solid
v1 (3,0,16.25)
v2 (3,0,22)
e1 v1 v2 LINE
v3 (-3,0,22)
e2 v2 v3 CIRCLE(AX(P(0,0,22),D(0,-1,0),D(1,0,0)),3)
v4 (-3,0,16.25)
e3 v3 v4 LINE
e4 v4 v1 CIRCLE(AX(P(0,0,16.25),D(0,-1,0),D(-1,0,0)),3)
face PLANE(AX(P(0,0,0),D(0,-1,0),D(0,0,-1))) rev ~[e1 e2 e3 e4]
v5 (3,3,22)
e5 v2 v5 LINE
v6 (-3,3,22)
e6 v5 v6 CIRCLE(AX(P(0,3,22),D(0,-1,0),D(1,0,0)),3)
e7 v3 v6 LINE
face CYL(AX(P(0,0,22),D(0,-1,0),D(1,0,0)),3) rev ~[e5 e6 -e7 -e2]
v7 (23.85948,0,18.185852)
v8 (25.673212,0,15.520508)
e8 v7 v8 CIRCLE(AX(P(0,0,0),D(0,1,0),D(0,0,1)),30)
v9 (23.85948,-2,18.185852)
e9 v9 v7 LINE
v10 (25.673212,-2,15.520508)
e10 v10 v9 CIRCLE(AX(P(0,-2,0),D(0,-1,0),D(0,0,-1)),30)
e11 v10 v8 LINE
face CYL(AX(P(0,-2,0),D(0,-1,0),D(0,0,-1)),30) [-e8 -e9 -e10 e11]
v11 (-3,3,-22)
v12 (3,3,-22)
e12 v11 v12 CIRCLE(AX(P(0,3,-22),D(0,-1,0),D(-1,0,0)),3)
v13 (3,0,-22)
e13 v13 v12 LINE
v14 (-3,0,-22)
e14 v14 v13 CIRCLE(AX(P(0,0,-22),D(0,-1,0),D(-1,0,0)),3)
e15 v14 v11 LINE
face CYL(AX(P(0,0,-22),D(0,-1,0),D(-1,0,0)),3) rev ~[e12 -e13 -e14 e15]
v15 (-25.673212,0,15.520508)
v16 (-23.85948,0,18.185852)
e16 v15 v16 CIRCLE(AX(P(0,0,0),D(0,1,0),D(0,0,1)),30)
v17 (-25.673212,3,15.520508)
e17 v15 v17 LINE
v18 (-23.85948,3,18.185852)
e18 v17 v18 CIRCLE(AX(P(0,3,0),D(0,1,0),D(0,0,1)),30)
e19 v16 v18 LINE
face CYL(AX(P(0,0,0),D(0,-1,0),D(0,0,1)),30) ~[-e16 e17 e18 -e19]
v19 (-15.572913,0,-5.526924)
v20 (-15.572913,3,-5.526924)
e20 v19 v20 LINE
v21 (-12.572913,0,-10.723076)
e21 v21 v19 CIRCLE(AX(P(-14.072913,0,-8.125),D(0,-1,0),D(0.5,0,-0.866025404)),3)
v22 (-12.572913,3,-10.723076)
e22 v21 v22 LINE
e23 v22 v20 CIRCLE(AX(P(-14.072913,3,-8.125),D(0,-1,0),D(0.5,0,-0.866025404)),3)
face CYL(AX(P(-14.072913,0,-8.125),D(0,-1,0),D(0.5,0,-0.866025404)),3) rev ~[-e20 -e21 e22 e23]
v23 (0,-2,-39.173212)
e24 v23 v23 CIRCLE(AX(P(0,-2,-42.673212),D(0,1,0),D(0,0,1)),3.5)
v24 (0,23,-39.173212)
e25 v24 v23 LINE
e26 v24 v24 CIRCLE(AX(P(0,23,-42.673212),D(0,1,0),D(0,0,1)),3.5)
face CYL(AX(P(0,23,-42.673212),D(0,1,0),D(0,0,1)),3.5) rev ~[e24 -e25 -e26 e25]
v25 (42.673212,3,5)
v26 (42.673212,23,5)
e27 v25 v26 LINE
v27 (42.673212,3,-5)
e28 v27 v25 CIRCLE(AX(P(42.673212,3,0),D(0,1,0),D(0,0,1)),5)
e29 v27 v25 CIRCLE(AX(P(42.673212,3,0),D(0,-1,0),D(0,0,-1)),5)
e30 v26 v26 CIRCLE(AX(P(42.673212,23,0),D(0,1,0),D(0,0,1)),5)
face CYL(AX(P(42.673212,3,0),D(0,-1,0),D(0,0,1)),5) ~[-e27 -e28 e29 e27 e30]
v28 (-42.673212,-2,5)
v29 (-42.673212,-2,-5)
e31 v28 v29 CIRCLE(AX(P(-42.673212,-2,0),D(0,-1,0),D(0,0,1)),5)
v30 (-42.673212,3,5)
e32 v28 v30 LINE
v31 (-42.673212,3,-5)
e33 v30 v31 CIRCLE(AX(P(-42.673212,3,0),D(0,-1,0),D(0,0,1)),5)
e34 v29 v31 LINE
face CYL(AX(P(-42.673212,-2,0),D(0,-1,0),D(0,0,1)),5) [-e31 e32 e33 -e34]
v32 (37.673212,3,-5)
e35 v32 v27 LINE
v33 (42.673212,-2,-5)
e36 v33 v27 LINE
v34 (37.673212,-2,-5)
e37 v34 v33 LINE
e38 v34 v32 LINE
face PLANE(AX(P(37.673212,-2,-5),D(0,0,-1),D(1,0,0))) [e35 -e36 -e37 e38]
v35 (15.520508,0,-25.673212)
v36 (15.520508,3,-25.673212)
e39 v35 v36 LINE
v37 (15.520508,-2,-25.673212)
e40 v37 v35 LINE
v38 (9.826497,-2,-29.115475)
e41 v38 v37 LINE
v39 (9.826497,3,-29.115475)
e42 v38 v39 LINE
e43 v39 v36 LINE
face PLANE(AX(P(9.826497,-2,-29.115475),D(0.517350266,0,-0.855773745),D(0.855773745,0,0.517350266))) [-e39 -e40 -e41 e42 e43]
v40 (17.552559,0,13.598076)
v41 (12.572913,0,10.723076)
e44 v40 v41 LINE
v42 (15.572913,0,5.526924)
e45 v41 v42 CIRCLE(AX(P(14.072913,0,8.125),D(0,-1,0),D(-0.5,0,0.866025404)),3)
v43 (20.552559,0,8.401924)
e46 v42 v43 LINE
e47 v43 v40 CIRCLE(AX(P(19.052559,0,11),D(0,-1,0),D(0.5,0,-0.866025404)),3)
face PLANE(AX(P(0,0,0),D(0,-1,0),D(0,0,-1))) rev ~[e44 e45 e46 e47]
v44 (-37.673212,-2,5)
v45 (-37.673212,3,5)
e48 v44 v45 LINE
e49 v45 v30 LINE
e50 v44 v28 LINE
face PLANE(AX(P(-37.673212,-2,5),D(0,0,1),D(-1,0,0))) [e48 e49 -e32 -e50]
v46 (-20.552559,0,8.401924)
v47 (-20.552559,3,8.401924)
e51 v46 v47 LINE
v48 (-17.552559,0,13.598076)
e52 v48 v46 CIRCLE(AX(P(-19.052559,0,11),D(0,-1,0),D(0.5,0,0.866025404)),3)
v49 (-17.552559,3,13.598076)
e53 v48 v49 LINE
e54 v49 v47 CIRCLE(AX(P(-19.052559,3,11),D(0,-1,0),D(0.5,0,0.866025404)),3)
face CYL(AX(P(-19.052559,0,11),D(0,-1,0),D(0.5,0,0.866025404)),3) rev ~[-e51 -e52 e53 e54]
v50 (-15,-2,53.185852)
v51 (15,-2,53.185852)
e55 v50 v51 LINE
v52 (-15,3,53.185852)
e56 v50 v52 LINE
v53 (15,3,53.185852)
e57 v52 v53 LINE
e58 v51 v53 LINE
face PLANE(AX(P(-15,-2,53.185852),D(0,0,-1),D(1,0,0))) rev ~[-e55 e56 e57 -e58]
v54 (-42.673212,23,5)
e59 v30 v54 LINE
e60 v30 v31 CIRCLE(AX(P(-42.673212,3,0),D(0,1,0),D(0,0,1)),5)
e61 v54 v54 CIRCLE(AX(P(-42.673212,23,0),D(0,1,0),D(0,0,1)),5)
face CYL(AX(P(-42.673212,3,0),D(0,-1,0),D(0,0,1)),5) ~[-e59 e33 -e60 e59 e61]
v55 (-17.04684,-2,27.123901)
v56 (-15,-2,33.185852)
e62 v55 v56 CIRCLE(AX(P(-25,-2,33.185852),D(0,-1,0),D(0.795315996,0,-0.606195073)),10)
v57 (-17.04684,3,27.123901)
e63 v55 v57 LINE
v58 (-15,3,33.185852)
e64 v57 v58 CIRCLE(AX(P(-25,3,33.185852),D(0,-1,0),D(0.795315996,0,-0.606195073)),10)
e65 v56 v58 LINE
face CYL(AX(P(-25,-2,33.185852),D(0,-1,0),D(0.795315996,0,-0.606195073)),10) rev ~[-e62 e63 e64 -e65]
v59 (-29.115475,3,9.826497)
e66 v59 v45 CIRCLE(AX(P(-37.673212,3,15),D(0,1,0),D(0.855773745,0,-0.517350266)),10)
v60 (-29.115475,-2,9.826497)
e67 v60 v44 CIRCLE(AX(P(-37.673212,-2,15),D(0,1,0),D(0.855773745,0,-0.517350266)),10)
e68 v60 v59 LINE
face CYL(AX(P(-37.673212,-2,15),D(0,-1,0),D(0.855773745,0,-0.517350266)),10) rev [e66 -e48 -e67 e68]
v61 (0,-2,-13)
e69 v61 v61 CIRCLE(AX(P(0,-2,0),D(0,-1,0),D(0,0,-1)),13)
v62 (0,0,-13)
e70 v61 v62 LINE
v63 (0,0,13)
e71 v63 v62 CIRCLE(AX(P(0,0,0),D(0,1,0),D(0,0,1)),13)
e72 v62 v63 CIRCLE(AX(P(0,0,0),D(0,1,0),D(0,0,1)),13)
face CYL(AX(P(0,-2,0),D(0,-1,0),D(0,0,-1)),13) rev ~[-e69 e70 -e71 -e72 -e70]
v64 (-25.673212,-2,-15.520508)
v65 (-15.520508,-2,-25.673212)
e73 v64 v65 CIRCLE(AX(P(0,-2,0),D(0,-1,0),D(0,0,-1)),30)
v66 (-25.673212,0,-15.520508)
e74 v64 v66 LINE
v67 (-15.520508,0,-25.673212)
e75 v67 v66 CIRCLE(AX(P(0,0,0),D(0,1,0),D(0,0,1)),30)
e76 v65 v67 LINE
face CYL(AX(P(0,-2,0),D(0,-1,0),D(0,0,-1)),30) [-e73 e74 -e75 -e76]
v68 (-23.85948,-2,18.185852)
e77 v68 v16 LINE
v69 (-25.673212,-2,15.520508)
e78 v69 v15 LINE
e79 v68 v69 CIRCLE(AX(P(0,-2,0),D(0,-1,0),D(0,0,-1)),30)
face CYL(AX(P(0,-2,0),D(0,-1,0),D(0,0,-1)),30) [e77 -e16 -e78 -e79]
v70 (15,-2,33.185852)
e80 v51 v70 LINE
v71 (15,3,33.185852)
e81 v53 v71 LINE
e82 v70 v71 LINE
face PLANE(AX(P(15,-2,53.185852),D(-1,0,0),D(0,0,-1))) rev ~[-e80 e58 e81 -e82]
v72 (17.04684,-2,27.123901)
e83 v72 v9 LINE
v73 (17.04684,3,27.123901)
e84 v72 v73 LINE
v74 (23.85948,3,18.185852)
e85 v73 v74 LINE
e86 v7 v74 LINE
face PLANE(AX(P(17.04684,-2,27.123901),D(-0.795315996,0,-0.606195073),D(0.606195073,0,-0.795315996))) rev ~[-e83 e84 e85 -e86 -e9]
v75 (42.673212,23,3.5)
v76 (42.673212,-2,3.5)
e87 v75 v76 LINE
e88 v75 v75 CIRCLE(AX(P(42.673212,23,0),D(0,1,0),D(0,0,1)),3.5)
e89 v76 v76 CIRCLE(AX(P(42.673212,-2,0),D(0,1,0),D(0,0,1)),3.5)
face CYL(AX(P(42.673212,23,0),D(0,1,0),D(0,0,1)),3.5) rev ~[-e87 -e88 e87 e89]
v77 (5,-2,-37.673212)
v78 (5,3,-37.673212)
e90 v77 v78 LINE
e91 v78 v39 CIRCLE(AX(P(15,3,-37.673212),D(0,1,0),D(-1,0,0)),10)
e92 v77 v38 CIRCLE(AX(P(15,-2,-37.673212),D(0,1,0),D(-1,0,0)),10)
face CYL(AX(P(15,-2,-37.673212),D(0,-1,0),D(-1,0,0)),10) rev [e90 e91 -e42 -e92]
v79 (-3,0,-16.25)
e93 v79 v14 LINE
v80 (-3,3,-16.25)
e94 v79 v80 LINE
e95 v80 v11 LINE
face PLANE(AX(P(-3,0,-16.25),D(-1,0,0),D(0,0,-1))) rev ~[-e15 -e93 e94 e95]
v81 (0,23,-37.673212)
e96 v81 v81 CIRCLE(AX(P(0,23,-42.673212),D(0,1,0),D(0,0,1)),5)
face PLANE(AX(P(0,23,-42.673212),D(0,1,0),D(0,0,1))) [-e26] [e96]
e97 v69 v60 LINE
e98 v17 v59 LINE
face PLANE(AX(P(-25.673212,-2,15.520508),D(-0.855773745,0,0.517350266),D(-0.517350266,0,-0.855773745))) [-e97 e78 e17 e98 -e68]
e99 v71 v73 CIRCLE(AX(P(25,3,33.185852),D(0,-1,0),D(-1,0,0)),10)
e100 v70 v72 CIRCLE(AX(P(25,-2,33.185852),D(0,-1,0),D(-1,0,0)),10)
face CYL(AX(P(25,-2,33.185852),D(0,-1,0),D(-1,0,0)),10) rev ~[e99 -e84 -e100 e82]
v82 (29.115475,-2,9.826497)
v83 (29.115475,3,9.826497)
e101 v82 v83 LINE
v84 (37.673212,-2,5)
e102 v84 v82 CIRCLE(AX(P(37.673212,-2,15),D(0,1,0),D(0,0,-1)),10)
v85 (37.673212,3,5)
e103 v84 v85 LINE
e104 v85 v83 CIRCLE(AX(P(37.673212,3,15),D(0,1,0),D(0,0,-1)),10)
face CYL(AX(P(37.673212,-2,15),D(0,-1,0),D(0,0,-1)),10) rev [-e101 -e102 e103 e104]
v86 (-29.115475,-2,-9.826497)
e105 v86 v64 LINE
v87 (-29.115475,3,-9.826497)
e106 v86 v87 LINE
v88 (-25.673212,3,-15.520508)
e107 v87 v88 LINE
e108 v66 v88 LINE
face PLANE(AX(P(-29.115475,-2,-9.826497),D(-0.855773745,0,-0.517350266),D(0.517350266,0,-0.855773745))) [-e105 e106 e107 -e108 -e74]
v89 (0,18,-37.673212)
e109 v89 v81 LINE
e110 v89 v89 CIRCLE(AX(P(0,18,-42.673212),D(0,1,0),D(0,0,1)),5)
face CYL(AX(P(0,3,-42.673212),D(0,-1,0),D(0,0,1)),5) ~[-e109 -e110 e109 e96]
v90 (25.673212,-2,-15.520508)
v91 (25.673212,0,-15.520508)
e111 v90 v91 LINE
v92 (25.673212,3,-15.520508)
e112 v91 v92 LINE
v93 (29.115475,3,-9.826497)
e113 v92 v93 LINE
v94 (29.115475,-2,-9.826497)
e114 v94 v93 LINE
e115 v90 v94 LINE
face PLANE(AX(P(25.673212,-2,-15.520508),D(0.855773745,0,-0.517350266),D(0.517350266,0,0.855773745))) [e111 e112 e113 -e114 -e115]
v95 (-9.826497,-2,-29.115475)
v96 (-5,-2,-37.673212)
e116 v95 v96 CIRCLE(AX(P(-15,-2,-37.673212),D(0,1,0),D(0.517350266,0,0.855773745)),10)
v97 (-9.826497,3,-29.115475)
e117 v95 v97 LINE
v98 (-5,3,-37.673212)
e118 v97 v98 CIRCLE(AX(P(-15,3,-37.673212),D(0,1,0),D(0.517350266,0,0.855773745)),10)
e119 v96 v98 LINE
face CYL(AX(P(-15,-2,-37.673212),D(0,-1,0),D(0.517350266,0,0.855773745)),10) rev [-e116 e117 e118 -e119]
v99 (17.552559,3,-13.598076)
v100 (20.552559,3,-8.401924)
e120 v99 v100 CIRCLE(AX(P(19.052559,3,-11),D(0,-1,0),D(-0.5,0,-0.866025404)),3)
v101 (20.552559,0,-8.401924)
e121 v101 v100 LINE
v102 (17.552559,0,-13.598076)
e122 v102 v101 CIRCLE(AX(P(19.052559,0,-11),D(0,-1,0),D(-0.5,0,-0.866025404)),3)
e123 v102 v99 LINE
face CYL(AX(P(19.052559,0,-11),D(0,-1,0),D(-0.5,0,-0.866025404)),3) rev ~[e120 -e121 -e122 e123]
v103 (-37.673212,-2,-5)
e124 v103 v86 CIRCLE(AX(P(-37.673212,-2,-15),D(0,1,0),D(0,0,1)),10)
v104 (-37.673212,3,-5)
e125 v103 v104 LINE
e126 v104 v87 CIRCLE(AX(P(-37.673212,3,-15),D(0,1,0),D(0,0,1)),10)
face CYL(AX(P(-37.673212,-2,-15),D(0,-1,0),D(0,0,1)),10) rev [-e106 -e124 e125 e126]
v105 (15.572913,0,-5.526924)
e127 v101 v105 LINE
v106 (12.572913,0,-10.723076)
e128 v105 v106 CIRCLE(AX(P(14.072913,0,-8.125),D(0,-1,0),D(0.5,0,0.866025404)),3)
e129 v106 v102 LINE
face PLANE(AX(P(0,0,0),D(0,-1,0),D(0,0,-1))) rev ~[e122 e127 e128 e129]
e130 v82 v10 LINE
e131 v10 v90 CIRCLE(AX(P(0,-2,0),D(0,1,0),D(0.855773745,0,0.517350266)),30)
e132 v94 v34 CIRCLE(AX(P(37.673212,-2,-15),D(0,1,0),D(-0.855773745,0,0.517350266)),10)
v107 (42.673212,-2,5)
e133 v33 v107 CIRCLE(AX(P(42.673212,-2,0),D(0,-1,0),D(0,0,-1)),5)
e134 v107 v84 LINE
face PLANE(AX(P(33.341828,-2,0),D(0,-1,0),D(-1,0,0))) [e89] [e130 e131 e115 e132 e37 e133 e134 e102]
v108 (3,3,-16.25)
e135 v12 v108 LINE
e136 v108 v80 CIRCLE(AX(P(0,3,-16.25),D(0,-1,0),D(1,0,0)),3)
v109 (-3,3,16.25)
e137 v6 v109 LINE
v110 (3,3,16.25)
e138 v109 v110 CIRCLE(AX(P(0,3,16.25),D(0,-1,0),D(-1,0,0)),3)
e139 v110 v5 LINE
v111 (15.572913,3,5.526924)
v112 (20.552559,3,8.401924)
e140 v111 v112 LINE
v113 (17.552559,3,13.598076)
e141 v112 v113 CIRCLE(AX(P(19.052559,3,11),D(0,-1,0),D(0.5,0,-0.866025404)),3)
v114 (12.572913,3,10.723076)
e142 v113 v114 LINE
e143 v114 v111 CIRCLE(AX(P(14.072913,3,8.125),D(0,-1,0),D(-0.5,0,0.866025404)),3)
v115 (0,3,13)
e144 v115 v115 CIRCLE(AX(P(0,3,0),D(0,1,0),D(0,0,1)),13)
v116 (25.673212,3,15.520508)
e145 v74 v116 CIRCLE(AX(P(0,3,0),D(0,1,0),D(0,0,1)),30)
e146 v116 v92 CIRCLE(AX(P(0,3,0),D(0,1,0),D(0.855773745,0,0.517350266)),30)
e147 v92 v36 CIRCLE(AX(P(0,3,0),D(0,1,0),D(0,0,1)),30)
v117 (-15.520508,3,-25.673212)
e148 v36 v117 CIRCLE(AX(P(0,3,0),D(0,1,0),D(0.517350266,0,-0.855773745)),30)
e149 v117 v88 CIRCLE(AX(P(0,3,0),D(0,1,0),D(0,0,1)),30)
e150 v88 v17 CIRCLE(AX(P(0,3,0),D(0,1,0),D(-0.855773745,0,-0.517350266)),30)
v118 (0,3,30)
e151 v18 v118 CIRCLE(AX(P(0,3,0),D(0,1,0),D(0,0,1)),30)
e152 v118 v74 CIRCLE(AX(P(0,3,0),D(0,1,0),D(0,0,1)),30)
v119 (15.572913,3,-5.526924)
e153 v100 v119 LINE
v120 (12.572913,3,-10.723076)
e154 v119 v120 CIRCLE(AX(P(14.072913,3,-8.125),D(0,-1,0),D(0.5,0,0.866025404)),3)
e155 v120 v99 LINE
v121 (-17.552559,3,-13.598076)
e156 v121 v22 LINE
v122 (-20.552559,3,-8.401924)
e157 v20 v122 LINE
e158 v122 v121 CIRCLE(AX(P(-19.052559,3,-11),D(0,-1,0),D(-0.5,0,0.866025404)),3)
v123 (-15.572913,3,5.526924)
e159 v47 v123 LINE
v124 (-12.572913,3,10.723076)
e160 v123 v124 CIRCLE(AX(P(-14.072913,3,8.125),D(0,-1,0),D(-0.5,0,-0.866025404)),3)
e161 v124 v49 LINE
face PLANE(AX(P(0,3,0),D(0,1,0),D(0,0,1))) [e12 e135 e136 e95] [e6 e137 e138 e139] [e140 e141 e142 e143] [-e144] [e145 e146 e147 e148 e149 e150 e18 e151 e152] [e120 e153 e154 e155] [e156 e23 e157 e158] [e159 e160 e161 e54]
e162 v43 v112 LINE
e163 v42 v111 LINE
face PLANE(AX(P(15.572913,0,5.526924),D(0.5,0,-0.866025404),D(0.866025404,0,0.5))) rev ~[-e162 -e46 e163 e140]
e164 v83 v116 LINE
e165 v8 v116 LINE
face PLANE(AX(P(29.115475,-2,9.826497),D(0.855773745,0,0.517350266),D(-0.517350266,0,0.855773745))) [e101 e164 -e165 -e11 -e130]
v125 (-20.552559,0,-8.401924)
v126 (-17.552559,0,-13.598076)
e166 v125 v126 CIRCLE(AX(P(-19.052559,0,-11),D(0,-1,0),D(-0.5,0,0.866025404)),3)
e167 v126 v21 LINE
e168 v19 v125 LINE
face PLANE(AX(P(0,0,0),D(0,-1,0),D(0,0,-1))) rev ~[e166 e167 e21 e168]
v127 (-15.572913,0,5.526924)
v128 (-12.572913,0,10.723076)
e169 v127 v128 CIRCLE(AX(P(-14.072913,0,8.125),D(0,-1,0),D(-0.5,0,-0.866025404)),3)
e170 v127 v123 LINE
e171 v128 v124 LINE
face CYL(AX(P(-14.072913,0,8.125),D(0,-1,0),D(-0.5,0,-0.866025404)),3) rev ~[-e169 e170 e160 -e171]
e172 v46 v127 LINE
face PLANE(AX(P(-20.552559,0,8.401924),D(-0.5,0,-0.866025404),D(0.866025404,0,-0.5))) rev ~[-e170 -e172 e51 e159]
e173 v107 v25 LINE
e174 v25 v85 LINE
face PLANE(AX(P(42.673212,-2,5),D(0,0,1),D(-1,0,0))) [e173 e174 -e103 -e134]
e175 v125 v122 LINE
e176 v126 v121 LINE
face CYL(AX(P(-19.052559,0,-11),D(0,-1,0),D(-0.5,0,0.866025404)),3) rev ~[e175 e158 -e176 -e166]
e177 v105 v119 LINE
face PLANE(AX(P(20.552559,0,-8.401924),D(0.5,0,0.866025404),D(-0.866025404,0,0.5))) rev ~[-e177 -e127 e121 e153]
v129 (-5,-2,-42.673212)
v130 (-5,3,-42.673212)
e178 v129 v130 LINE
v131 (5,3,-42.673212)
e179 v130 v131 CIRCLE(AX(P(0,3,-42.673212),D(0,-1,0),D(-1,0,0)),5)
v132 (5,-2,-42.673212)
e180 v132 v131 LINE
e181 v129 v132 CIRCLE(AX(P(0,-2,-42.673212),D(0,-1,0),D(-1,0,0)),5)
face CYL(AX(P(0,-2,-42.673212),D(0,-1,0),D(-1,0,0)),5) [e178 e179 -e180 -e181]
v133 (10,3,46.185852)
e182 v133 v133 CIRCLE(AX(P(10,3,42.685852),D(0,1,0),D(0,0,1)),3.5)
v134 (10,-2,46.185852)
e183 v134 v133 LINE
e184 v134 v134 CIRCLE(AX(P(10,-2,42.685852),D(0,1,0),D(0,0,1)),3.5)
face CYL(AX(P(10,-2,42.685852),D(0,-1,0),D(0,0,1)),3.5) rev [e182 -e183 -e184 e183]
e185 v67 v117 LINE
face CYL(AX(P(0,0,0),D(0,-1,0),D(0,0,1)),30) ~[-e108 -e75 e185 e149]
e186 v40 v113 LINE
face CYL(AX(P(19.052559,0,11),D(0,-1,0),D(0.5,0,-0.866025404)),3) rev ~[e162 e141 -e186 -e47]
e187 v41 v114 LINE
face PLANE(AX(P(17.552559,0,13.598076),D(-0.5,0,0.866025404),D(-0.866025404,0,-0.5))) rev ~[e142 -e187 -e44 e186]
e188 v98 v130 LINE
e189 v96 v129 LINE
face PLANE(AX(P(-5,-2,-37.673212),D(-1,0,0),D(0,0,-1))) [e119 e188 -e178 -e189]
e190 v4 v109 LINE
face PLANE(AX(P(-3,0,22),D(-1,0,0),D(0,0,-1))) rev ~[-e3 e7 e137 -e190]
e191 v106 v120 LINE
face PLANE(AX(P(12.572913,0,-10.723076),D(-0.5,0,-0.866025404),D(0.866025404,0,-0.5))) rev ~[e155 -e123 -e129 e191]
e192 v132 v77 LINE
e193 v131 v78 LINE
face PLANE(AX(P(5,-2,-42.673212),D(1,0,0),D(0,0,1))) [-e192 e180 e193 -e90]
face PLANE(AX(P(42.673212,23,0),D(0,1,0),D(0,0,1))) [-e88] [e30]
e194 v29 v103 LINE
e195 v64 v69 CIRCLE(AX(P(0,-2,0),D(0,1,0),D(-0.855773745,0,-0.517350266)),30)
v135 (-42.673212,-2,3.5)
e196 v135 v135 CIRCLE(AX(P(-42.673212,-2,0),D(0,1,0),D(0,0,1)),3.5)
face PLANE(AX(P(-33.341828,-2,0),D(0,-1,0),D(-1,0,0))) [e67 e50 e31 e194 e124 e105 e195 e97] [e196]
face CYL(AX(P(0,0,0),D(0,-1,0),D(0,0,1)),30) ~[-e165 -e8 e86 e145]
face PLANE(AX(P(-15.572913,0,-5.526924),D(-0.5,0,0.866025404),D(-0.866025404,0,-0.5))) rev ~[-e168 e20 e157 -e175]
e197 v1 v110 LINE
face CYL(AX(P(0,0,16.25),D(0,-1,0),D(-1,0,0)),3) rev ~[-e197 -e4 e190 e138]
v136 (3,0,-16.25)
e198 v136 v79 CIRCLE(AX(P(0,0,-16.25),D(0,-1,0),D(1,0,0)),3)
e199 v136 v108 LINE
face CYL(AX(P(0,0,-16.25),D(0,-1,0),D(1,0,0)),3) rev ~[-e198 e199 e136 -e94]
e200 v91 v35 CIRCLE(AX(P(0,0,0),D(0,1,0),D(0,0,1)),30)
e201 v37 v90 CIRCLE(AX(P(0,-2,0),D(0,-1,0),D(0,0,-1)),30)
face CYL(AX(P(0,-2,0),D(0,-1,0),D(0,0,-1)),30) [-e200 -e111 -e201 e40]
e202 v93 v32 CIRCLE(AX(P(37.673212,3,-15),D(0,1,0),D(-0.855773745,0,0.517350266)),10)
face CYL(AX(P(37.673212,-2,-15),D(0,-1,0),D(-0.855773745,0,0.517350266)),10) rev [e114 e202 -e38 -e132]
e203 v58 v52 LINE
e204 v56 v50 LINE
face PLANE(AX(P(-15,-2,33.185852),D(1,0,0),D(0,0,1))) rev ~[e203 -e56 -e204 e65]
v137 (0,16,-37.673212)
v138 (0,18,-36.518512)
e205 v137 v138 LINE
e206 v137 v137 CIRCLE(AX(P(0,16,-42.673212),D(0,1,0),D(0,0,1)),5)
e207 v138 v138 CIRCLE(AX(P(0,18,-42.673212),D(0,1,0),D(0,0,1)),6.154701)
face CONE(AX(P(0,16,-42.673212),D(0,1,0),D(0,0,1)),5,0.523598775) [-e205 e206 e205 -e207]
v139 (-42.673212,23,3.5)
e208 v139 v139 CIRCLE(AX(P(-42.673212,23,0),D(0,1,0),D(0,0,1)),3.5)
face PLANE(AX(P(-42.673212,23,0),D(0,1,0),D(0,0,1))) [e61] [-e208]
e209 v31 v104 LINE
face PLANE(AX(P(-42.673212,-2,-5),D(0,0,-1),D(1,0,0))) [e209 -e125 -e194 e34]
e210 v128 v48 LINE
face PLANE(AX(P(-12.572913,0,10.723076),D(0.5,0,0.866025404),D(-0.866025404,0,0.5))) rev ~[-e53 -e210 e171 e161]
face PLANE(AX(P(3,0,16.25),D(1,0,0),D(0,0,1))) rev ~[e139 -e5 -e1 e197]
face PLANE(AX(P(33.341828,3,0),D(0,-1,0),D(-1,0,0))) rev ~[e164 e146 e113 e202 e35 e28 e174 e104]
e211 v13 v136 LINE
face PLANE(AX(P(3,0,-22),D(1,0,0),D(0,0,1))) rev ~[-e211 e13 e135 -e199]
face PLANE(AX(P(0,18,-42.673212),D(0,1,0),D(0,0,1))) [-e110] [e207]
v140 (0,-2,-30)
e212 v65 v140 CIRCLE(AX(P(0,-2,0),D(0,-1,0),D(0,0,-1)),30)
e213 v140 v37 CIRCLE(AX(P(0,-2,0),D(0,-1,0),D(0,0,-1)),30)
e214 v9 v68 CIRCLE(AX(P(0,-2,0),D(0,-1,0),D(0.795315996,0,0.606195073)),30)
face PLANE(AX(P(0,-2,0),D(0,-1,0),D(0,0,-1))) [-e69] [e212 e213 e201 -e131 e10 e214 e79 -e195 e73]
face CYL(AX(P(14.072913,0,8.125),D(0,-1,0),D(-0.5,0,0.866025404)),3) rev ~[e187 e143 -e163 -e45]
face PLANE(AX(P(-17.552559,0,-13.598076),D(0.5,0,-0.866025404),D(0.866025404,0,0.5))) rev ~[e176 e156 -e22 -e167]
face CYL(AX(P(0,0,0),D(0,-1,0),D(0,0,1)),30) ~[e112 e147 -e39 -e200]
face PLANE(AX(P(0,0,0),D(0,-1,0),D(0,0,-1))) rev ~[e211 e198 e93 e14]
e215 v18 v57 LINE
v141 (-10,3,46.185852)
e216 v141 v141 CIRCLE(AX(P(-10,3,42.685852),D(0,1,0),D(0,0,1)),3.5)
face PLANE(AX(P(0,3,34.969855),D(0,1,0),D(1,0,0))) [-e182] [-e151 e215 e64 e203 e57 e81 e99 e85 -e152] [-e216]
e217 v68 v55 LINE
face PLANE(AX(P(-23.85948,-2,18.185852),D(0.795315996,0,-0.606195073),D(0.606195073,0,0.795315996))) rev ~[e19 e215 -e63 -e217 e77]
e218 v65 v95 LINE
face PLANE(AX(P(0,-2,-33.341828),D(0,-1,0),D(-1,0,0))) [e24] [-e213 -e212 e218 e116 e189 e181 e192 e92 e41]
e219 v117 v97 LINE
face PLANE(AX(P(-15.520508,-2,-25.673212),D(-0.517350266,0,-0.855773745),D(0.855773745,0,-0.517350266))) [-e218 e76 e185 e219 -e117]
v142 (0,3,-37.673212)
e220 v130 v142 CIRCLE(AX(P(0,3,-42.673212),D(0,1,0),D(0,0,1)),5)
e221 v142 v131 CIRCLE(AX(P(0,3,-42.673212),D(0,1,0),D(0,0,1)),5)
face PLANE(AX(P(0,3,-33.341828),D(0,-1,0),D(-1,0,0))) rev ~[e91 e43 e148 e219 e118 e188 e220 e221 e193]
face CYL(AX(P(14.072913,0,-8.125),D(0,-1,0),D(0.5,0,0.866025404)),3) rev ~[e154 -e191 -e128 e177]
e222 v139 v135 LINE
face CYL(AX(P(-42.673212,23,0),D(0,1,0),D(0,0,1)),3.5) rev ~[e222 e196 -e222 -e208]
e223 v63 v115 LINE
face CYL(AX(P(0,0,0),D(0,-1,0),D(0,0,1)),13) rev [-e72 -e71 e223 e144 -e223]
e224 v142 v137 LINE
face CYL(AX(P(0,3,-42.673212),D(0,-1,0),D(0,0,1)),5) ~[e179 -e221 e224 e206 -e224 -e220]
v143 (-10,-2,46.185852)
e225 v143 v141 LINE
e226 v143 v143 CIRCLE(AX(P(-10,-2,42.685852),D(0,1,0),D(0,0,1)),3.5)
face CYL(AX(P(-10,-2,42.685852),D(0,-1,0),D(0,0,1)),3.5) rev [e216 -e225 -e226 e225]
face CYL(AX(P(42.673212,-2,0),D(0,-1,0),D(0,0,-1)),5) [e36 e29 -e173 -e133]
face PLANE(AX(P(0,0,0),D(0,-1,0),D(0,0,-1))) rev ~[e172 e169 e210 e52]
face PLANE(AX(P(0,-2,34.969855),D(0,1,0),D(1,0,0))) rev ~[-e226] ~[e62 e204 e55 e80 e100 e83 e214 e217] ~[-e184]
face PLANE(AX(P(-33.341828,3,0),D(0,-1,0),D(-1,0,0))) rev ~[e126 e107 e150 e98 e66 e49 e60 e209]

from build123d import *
from build123d.topology import SkipClean

# Parameters (mm, degrees)
ESQUISSE1_R             = 30
ESQUISSE1_R_2           = 13
BOSS_EXTRU_1_DEPTH      = 3
BOSS_EXTRU_2_START      = 2
ESQUISSE2_R             = 30
ESQUISSE2_R_2           = 13
BOSS_EXTRU_2_DEPTH      = 2
BOSS_EXTRU_3_START      = -5
ESQUISSE3_R             = 3.5
BOSS_EXTRU_3_DEPTH      = 5
ESQUISSE4_R             = 5
BOSS_EXTRU_4_DEPTH      = 20
ESQUISSE5_R             = 3.5
ENL_V_MAT_EXTRU_1_DEPTH = 76.67344349


with BuildPart() as part:
    # Esquisse1 → Boss.-Extru.1 (new body)
    with BuildSketch(Plane(origin=(0, 0, 0), x_dir=(1, 0, 0), z_dir=(0, 1, 0))):
        with Locations(Location((0, 0, 0), (0, 0, 270))):
            Circle(ESQUISSE1_R)
        with Locations(Location((0, 0, 0), (0, 0, 270))):
            Circle(ESQUISSE1_R_2, mode=Mode.SUBTRACT)
        with BuildLine():
            Line((-3, 16.25), (-3, 22))
            ThreePointArc((-3, 22), (0, 25), (3, 22))
            Line((3, 22), (3, 16.25))
            ThreePointArc((3, 16.25), (0, 13.25), (-3, 16.25))
        make_face(mode=Mode.SUBTRACT)
        with BuildLine():
            Line((12.572912811, 10.723076211), (17.552558883, 13.598076211))
            ThreePointArc((17.552558883, 13.598076211), (21.650635095, 12.5), (20.552558883, 8.401923789))
            Line((20.552558883, 8.401923789), (15.572912811, 5.526923789))
            ThreePointArc((15.572912811, 5.526923789), (11.4748366, 6.625), (12.572912811, 10.723076211))
        make_face(mode=Mode.SUBTRACT)
        with BuildLine():
            Line((15.572912811, -5.526923789), (20.552558883, -8.401923789))
            ThreePointArc((20.552558883, -8.401923789), (21.650635095, -12.5), (17.552558883, -13.598076211))
            Line((17.552558883, -13.598076211), (12.572912811, -10.723076211))
            ThreePointArc((12.572912811, -10.723076211), (11.4748366, -6.625), (15.572912811, -5.526923789))
        make_face(mode=Mode.SUBTRACT)
        with BuildLine():
            Line((3, -16.25), (3, -22))
            ThreePointArc((3, -22), (0, -25), (-3, -22))
            Line((-3, -22), (-3, -16.25))
            ThreePointArc((-3, -16.25), (0, -13.25), (3, -16.25))
        make_face(mode=Mode.SUBTRACT)
        with BuildLine():
            Line((-12.572912811, -10.723076211), (-17.552558883, -13.598076211))
            ThreePointArc((-17.552558883, -13.598076211), (-21.650635095, -12.5), (-20.552558883, -8.401923789))
            Line((-20.552558883, -8.401923789), (-15.572912811, -5.526923789))
            ThreePointArc((-15.572912811, -5.526923789), (-11.4748366, -6.625), (-12.572912811, -10.723076211))
        make_face(mode=Mode.SUBTRACT)
        with BuildLine():
            Line((-15.572912811, 5.526923789), (-20.552558883, 8.401923789))
            ThreePointArc((-20.552558883, 8.401923789), (-21.650635095, 12.5), (-17.552558883, 13.598076211))
            Line((-17.552558883, 13.598076211), (-12.572912811, 10.723076211))
            ThreePointArc((-12.572912811, 10.723076211), (-11.4748366, 6.625), (-15.572912811, 5.526923789))
        make_face(mode=Mode.SUBTRACT)
    extrude(amount=BOSS_EXTRU_1_DEPTH)

    # Esquisse2 → Boss.-Extru.2 (add)
    with BuildSketch(Plane.XZ.offset(BOSS_EXTRU_2_START)):
        with Locations(Location((0, 0, 0), (0, 0, 270))):
            Circle(ESQUISSE2_R)
        with Locations(Location((0, 0, 0), (0, 0, 270))):
            Circle(ESQUISSE2_R_2, mode=Mode.SUBTRACT)
    extrude(amount=-BOSS_EXTRU_2_DEPTH)

    # Esquisse3 → Boss.-Extru.3 (add)
    # profile 1 of 4: a face of its own
    with SkipClean():  # the faces are left unmerged after this step: merging them gives an invalid solid
        with BuildSketch(Plane(origin=(0, 3, 0), x_dir=(1, 0, 0), z_dir=(0, 1, 0)).offset(BOSS_EXTRU_3_START)):
            with BuildLine():
                Line((-15, -33.185852199), (-15, -53.185852199))
                Line((-15, -53.185852199), (15, -53.185852199))
                Line((15, -53.185852199), (15, -33.185852199))
                ThreePointArc((15, -33.185852199), (15.525518495, -29.986758544), (17.046840042, -27.123901466))
                Line((17.046840042, -27.123901466), (23.859479873, -18.185852199))
                ThreePointArc((23.859479873, -18.185852199), (0, -30), (-23.859479873, -18.185852199))
                Line((-23.859479873, -18.185852199), (-17.046840042, -27.123901466))
                ThreePointArc((-17.046840042, -27.123901466), (-15.525518495, -29.986758544), (-15, -33.185852199))
            make_face()
            with Locations(Location((-10, -42.685852199, 0), (0, 0, 270))):
                Circle(ESQUISSE3_R, mode=Mode.SUBTRACT)
            with Locations(Location((10, -42.685852199, 0), (0, 0, 270))):
                Circle(ESQUISSE3_R, mode=Mode.SUBTRACT)
        # profile 2 of 4: a face of its own
        with BuildSketch(Plane(origin=(0, 3, 0), x_dir=(1, 0, 0), z_dir=(0, 1, 0)).offset(BOSS_EXTRU_3_START)):
            with BuildLine():
                Line((37.673212347, 5), (42.673212347, 5))
                ThreePointArc((42.673212347, 5), (47.673212347, 0), (42.673212347, -5))
                Line((42.673212347, -5), (37.673212347, -5))
                ThreePointArc((37.673212347, -5), (32.760729603, -6.289804061), (29.115474898, -9.826497342))
                Line((29.115474898, -9.826497342), (25.673212347, -15.520507974))
                ThreePointArc((25.673212347, -15.520507974), (30, 0), (25.673212347, 15.520507974))
                Line((25.673212347, 15.520507974), (29.115474898, 9.826497342))
                ThreePointArc((29.115474898, 9.826497342), (32.760729603, 6.289804061), (37.673212347, 5))
            make_face()
        # profile 3 of 4: a face of its own
        with BuildSketch(Plane(origin=(0, 3, 0), x_dir=(1, 0, 0), z_dir=(0, 1, 0)).offset(BOSS_EXTRU_3_START)):
            with BuildLine():
                Line((-5, 37.673212347), (-5, 42.673212347))
                ThreePointArc((-5, 42.673212347), (0, 47.673212347), (5, 42.673212347))
                Line((5, 42.673212347), (5, 37.673212347))
                ThreePointArc((5, 37.673212347), (6.289804061, 32.760729603), (9.826497342, 29.115474898))
                Line((9.826497342, 29.115474898), (15.520507974, 25.673212347))
                ThreePointArc((15.520507974, 25.673212347), (0, 30), (-15.520507974, 25.673212347))
                Line((-15.520507974, 25.673212347), (-9.826497342, 29.115474898))
                ThreePointArc((-9.826497342, 29.115474898), (-6.289804061, 32.760729603), (-5, 37.673212347))
            make_face()
        # profile 4 of 4: a face of its own
        with BuildSketch(Plane(origin=(0, 3, 0), x_dir=(1, 0, 0), z_dir=(0, 1, 0)).offset(BOSS_EXTRU_3_START)):
            with BuildLine():
                Line((-37.673212347, -5), (-42.673212347, -5))
                ThreePointArc((-42.673212347, -5), (-47.673212347, 0), (-42.673212347, 5))
                Line((-42.673212347, 5), (-37.673212347, 5))
                ThreePointArc((-37.673212347, 5), (-32.760729603, 6.289804061), (-29.115474898, 9.826497342))
                Line((-29.115474898, 9.826497342), (-25.673212347, 15.520507974))
                ThreePointArc((-25.673212347, 15.520507974), (-30, 0), (-25.673212347, -15.520507974))
                Line((-25.673212347, -15.520507974), (-29.115474898, -9.826497342))
                ThreePointArc((-29.115474898, -9.826497342), (-32.760729603, -6.289804061), (-37.673212347, -5))
            make_face()
        extrude(amount=BOSS_EXTRU_3_DEPTH)

    # Esquisse4 → Boss.-Extru.4 (add)
    with SkipClean():  # the faces are left unmerged after this step: merging them gives an invalid solid
        with BuildSketch(Plane(origin=(0, 3, 0), x_dir=(1, 0, 0), z_dir=(0, 1, 0))):
            with Locations(Location((-42.673212347, 0, 0), (0, 0, 270))):
                Circle(ESQUISSE4_R)
            with Locations(Location((42.673212347, 0, 0), (0, 0, 270))):
                Circle(ESQUISSE4_R)
            with Locations(Location((0, 42.673212347, 0), (0, 0, 270))):
                Circle(ESQUISSE4_R)
        extrude(amount=BOSS_EXTRU_4_DEPTH)

    # Esquisse5 → Enlèv. mat.-Extru.1 (cut, through all)
    with SkipClean():  # the faces are left unmerged after this step: merging them gives an invalid solid
        with BuildSketch(Plane(origin=(0, 23, 0), x_dir=(1, 0, 0), z_dir=(0, 1, 0))):
            with Locations(Location((-42.673212347, 0, 0), (0, 0, 270))):
                Circle(ESQUISSE5_R)
            with Locations(Location((42.673212347, 0, 0), (0, 0, 270))):
                Circle(ESQUISSE5_R)
            with Locations(Location((0, 42.673212347, 0), (0, 0, 270))):
                Circle(ESQUISSE5_R)
        extrude(amount=-ENL_V_MAT_EXTRU_1_DEPTH, mode=Mode.SUBTRACT)

    # Esquisse6 → Révolution1 (revolve)
    with SkipClean():  # the faces are left unmerged after this step: merging them gives an invalid solid
        with BuildSketch(Plane.XY.offset(-42.673212347), mode=Mode.PRIVATE) as r_volution1_sk:
            Polygon((5, 16), (6.154700538, 18), (5, 18), align=None)
        revolve(r_volution1_sk.sketch.rotate(Axis((0, -2, -42.673212347), (0, 1, 0)), 270), axis=Axis((0, -2, -42.673212347), (0, 1, 0)))


solid = part.part
